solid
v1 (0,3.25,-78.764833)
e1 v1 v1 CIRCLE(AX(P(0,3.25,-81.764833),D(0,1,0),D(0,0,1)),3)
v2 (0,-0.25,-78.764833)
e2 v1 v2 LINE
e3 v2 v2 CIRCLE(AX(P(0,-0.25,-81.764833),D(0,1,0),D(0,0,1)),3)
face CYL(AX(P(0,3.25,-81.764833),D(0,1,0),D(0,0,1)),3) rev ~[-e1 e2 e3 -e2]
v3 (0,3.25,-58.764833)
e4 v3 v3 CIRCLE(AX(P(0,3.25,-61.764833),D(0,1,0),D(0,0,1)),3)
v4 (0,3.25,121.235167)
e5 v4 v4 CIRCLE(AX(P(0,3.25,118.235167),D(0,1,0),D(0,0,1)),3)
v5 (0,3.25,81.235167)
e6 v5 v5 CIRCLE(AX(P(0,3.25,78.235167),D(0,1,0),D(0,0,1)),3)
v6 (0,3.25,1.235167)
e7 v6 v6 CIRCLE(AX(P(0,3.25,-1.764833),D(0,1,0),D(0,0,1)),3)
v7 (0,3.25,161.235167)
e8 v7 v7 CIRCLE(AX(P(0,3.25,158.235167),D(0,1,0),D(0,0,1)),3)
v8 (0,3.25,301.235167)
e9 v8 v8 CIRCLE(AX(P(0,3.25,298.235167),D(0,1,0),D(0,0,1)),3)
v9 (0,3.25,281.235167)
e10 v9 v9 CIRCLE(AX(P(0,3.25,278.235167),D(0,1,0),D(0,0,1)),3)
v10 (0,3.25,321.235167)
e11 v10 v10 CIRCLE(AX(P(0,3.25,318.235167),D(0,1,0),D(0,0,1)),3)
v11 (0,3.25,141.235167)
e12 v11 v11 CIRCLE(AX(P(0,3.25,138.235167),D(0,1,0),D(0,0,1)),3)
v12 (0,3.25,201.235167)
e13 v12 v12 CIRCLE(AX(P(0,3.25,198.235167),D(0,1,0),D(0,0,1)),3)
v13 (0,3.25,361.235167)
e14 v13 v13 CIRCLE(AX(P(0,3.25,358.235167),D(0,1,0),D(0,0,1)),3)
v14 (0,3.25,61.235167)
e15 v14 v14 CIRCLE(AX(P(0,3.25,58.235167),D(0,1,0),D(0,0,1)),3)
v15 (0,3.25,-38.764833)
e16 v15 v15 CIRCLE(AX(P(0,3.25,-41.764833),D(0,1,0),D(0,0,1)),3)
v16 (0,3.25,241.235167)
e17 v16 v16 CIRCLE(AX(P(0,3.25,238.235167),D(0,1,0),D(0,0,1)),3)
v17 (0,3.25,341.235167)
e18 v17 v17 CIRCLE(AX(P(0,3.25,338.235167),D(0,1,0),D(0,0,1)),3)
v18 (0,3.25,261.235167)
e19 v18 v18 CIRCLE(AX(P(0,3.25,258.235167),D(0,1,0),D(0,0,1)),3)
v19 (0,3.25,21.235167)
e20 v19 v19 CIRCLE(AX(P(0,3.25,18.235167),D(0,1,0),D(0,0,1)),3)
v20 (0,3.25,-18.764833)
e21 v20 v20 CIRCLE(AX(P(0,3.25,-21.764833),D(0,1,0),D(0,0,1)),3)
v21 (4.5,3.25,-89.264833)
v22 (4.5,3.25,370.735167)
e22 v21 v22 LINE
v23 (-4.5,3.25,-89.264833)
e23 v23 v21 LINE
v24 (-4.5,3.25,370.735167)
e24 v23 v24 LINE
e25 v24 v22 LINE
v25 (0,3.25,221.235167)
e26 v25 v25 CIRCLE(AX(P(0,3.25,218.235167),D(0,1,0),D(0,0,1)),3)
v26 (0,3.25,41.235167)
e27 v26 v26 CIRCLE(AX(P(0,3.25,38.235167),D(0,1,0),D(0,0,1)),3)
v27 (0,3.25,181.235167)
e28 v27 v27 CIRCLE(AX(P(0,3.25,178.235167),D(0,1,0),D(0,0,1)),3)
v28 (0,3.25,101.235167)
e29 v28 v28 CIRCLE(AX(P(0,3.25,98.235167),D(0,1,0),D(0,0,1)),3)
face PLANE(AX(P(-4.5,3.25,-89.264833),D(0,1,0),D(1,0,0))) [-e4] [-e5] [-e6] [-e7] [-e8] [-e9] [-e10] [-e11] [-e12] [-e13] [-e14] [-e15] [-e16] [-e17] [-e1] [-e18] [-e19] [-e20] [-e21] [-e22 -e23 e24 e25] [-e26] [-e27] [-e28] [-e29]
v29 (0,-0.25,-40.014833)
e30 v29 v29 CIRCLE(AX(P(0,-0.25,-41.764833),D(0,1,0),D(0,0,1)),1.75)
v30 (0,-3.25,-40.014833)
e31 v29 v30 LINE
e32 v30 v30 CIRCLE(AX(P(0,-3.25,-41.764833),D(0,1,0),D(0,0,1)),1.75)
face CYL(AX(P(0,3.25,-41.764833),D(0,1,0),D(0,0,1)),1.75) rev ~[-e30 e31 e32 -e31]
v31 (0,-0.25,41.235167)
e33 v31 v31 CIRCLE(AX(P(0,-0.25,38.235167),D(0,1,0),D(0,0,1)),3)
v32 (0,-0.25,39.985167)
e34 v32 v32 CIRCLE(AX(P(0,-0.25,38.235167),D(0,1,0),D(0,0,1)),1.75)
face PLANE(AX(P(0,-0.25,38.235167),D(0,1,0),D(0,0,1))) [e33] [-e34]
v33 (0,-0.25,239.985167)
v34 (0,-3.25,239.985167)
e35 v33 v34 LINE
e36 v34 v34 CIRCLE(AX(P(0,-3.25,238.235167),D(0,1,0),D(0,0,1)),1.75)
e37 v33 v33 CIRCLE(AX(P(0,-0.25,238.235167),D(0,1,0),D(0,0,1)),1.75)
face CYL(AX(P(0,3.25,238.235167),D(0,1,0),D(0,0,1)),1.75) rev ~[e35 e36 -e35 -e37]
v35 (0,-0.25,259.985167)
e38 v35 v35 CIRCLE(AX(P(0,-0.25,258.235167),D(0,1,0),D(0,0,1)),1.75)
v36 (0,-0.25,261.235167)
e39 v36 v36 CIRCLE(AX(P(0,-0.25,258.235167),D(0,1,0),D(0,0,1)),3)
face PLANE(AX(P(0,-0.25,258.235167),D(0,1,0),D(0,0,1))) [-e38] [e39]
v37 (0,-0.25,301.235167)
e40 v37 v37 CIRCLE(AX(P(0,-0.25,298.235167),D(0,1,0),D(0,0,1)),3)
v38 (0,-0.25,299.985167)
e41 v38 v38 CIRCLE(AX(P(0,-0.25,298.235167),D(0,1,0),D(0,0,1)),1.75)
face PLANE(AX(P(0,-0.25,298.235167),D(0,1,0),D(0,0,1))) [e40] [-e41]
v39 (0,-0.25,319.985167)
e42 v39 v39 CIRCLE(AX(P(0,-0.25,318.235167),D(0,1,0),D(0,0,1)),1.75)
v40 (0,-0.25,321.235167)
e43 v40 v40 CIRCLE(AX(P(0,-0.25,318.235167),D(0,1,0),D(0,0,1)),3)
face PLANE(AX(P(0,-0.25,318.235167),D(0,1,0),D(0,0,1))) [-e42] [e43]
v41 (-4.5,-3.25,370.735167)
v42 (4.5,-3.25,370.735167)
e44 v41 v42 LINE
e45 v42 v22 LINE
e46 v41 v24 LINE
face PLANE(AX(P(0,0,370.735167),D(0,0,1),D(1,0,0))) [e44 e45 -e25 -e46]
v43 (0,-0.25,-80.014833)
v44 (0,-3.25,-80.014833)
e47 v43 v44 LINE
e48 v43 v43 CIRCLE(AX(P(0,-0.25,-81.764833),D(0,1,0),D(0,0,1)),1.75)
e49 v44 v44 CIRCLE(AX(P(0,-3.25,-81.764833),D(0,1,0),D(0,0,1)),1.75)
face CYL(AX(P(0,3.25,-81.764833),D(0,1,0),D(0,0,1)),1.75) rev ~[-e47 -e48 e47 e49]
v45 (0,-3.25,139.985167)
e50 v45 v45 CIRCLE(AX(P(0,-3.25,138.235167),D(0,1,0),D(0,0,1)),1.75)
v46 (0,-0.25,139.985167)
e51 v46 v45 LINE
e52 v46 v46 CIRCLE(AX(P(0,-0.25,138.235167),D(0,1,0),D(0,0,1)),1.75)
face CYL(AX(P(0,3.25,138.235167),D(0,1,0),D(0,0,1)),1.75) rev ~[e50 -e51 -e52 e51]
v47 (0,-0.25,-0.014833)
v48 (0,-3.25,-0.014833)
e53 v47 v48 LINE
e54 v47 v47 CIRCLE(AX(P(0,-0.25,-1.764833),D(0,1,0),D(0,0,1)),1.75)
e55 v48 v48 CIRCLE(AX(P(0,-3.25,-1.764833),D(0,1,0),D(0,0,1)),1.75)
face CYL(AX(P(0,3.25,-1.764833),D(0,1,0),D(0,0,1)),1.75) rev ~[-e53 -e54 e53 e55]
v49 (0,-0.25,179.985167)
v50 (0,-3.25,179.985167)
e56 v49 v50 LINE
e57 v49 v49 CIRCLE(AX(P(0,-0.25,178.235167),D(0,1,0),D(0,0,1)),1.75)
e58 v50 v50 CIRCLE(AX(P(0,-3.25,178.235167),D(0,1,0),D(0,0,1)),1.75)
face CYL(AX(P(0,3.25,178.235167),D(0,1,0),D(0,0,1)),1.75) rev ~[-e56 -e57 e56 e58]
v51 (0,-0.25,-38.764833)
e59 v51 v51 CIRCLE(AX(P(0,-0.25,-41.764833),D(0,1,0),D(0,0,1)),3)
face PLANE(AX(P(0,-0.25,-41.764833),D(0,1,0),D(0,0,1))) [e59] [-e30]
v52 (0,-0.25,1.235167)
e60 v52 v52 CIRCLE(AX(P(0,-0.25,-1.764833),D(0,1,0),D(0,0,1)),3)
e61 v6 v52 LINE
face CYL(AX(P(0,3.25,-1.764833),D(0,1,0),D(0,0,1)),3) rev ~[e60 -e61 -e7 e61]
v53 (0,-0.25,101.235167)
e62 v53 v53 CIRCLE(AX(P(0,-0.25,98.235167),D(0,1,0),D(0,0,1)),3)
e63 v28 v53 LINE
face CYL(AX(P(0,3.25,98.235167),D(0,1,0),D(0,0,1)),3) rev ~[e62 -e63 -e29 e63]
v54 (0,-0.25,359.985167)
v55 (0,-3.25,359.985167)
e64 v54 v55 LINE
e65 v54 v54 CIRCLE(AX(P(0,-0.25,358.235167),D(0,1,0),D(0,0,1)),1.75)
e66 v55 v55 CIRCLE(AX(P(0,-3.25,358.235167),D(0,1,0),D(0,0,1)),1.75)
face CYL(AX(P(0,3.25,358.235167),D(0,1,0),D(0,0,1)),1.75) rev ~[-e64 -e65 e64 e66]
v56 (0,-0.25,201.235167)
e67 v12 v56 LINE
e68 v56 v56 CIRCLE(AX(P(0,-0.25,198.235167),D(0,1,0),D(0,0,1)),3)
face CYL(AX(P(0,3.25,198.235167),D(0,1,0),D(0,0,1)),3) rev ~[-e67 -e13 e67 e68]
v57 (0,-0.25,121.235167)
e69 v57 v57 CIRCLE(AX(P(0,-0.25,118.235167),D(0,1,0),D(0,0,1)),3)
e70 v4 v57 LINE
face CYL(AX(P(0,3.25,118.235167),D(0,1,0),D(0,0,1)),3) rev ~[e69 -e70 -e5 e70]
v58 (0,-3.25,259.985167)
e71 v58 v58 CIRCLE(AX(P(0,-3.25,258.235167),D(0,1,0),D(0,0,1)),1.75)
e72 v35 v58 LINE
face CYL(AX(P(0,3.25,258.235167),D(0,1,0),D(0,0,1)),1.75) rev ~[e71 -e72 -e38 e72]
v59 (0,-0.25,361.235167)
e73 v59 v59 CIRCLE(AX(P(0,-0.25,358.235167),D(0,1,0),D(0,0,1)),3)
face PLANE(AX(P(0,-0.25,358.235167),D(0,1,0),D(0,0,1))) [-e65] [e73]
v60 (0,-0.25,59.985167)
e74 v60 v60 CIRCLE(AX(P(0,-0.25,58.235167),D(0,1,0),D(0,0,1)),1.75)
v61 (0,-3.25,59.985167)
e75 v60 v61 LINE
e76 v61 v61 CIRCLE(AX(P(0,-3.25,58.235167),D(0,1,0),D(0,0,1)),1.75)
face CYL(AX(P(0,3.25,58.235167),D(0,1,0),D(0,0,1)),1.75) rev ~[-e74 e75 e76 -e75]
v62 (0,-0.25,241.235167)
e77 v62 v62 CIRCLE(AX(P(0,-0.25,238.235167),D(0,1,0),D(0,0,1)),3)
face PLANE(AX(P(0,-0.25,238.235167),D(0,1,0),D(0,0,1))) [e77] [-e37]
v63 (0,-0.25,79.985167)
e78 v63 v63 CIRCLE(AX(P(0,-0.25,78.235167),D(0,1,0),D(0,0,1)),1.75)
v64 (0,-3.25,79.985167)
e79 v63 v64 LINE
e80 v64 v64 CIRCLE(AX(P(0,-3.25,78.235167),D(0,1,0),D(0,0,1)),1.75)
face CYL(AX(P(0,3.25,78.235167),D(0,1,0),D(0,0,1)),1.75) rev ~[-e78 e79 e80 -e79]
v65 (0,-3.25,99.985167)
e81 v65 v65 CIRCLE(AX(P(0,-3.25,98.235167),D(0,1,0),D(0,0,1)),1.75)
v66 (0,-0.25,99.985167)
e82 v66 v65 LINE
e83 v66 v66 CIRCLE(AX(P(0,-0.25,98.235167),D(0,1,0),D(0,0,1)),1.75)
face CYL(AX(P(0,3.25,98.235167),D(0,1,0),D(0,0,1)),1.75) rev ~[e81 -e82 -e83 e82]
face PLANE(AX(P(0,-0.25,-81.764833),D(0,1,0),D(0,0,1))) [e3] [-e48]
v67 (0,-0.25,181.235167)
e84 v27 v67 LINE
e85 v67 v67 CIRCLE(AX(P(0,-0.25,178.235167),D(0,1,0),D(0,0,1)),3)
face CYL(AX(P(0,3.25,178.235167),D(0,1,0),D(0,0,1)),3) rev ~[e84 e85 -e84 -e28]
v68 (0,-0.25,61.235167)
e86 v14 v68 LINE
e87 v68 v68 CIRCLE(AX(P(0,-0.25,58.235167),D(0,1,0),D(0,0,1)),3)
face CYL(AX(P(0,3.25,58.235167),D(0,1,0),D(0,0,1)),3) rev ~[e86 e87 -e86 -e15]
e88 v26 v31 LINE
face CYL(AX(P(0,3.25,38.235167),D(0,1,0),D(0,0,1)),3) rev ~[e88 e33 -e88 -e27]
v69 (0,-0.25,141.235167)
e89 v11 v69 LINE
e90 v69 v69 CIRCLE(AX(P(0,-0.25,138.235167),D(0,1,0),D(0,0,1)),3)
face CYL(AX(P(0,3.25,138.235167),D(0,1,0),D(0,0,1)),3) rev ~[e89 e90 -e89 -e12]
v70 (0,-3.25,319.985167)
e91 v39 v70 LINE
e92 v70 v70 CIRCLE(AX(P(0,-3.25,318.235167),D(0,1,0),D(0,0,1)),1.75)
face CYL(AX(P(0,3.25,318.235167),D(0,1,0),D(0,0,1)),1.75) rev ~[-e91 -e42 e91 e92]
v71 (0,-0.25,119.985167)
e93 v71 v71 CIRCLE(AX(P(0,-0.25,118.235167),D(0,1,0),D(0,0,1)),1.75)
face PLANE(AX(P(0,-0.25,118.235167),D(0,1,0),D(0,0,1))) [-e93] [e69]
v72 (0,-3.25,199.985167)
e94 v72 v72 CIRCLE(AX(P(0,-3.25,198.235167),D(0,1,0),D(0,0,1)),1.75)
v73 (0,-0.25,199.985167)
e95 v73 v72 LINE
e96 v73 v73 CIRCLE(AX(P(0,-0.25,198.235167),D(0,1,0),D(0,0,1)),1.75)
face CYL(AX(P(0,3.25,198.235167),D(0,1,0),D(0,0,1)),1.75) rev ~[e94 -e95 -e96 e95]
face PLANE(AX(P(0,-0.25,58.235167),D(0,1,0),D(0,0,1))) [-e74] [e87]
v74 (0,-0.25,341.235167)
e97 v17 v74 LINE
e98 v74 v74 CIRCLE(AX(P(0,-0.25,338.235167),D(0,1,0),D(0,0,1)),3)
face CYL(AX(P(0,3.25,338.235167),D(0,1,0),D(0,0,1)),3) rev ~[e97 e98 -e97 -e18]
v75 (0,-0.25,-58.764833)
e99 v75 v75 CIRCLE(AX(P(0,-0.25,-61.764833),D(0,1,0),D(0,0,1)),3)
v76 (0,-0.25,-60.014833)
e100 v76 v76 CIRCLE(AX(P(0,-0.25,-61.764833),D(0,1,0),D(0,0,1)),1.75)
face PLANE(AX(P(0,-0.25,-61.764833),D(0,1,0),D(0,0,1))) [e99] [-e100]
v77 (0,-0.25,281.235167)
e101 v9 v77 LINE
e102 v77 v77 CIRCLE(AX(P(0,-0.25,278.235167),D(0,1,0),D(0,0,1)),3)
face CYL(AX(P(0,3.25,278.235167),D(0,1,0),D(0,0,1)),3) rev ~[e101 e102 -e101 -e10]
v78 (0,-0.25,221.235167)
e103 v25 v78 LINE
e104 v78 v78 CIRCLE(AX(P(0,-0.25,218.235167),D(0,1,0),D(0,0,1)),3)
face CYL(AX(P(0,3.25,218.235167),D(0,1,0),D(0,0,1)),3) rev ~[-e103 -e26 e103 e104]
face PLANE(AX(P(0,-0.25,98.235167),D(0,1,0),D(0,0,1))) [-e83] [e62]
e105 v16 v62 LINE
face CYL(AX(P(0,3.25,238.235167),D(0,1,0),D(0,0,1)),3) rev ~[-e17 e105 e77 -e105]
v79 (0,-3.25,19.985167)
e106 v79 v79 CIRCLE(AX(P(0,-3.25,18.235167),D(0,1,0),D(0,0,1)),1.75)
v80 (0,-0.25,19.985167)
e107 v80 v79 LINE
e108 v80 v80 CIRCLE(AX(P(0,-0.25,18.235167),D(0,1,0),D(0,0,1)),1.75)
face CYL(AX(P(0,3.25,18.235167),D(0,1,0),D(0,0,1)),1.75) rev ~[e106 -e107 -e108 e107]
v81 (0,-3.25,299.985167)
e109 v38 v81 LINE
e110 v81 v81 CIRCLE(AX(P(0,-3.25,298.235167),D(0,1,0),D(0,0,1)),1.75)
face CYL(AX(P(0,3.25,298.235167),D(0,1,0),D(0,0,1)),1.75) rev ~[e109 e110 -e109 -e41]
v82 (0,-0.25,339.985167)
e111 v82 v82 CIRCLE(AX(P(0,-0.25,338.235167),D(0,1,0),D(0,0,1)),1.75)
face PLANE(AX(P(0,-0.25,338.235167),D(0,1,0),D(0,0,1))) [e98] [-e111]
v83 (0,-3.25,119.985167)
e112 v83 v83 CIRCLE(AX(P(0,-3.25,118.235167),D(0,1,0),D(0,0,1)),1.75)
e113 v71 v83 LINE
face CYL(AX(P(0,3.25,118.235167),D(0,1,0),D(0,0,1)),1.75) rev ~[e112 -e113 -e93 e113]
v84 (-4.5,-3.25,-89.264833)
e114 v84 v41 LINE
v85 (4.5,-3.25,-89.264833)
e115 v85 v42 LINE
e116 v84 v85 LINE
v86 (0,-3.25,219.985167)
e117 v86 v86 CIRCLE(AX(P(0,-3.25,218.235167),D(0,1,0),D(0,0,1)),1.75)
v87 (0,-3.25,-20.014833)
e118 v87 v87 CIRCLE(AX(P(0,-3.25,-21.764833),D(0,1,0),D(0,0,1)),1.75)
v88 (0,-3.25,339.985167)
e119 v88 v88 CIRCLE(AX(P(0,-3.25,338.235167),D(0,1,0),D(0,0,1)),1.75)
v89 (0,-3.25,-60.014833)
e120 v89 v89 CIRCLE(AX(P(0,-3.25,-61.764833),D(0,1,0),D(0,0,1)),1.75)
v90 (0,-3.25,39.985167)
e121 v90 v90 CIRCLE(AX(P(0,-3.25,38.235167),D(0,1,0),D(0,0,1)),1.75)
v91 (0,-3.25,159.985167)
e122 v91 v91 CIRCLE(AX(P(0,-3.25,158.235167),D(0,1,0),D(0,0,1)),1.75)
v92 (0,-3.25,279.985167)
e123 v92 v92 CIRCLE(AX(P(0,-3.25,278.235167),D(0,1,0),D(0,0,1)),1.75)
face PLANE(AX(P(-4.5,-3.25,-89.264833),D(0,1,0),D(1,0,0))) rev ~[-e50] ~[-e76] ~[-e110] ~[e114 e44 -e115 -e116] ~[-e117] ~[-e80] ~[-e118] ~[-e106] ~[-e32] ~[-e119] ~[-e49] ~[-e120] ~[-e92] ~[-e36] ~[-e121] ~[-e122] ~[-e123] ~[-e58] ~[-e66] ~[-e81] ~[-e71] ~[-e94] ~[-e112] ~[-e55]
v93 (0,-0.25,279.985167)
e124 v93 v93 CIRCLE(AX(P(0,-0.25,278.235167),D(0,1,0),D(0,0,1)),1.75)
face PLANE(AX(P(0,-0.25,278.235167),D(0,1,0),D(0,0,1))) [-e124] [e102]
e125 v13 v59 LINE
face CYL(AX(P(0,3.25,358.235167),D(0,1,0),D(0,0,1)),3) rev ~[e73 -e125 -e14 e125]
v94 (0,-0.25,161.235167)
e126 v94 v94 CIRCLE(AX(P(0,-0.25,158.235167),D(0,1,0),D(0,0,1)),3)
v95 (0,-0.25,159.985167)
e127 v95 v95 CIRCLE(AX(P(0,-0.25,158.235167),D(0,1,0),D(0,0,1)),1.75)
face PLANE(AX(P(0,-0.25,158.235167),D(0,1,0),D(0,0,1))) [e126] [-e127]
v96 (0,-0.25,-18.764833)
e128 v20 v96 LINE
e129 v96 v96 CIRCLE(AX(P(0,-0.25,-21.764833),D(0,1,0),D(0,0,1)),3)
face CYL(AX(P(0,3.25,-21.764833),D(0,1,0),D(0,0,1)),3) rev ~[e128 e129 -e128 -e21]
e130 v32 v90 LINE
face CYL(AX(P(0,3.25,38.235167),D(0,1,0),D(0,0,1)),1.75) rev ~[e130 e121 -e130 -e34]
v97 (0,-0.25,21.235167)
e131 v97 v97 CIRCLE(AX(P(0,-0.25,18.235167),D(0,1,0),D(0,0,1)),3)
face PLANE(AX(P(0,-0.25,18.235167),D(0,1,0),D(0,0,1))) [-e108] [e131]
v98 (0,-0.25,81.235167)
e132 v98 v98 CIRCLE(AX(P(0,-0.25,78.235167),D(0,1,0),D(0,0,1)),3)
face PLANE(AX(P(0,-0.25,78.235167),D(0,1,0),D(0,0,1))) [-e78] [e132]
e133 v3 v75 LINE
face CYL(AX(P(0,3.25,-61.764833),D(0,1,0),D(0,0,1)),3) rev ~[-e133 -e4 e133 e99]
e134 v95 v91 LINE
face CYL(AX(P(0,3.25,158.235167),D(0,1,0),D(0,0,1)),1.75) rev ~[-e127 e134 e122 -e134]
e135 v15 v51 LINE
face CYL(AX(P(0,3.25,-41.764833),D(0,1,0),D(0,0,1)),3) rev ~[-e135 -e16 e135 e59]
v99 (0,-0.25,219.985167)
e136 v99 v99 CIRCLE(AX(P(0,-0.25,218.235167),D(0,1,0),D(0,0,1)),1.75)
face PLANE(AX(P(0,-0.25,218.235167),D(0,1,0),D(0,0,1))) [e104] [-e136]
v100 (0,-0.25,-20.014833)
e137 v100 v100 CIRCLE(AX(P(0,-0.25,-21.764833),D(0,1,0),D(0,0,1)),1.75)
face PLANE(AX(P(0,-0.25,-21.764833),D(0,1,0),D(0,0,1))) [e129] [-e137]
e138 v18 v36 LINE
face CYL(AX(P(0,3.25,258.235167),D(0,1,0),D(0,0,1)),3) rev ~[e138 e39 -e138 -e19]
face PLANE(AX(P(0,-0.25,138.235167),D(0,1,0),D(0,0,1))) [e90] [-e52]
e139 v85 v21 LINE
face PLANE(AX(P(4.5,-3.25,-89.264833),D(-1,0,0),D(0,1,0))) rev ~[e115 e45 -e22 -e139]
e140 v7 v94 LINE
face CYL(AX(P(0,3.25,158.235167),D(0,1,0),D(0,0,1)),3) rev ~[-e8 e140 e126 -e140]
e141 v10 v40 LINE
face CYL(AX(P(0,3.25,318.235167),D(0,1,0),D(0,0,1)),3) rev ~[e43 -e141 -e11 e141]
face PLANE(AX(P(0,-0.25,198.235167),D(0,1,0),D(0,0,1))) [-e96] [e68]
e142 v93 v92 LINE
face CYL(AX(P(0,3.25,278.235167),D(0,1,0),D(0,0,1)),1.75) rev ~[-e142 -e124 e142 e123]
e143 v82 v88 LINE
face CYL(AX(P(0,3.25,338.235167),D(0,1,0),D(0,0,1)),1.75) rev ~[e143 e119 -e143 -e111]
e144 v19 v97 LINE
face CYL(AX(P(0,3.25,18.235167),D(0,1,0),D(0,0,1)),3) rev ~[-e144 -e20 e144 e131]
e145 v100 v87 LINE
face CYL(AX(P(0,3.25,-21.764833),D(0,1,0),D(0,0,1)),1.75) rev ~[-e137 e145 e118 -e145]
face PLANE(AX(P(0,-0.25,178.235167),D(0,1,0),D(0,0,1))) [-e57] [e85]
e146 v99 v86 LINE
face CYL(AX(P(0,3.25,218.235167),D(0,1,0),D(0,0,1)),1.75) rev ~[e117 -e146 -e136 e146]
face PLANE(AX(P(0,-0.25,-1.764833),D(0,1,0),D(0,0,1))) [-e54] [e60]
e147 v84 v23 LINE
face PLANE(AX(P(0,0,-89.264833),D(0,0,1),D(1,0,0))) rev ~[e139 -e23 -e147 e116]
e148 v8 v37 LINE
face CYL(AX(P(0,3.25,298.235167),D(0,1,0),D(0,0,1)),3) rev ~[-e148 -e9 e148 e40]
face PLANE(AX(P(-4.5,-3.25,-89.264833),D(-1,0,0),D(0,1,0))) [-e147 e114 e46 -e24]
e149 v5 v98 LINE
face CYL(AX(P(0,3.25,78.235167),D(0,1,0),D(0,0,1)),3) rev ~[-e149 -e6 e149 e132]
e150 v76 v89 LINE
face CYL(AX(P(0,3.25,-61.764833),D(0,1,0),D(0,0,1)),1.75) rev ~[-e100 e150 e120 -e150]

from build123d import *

# Parameters (mm, degrees)
SKETCH_1_W          = 9
SKETCH_1_H          = 6.5
EXTRUDE_1_DEPTH     = 460
SKETCH_2_R          = 1.750000006
CUT_EXTRUDE_1_DEPTH = 371.819449874
SKETCH_3_R          = 3.000000006
CUT_EXTRUDE_2_DEPTH = 3.5


with BuildPart() as part:
    # 草图1 → 凸台-拉伸1 (new body)
    with BuildSketch(Plane.XY.offset(-89.264832522)):
        Rectangle(SKETCH_1_W, SKETCH_1_H)
    extrude(amount=EXTRUDE_1_DEPTH)

    # 草图2 → 切除-拉伸1 (cut, through all)
    with BuildSketch(Plane(origin=(0, 3.25, 0), x_dir=(1, 0, 0), z_dir=(0, 1, 0))):
        with Locations(Location((0, 81.764832522, 0), (0, 0, 270))):
            Circle(SKETCH_2_R)
        with Locations(Location((0, 61.764832522, 0), (0, 0, 270))):
            Circle(SKETCH_2_R)
        with Locations(Location((0, 41.764832522, 0), (0, 0, 270))):
            Circle(SKETCH_2_R)
        with Locations(Location((0, 21.764832522, 0), (0, 0, 270))):
            Circle(SKETCH_2_R)
        with Locations(Location((0, 1.764832522, 0), (0, 0, 270))):
            Circle(SKETCH_2_R)
        with Locations(Location((0, -18.235167478, 0), (0, 0, 270))):
            Circle(SKETCH_2_R)
        with Locations(Location((0, -38.235167478, 0), (0, 0, 270))):
            Circle(SKETCH_2_R)
        with Locations(Location((0, -58.235167478, 0), (0, 0, 270))):
            Circle(SKETCH_2_R)
        with Locations(Location((0, -78.235167478, 0), (0, 0, 270))):
            Circle(SKETCH_2_R)
        with Locations(Location((0, -98.235167478, 0), (0, 0, 270))):
            Circle(SKETCH_2_R)
        with Locations(Location((0, -118.235167478, 0), (0, 0, 270))):
            Circle(SKETCH_2_R)
        with Locations(Location((0, -138.235167478, 0), (0, 0, 270))):
            Circle(SKETCH_2_R)
        with Locations(Location((0, -158.235167478, 0), (0, 0, 270))):
            Circle(SKETCH_2_R)
        with Locations(Location((0, -178.235167478, 0), (0, 0, 270))):
            Circle(SKETCH_2_R)
        with Locations(Location((0, -198.235167478, 0), (0, 0, 270))):
            Circle(SKETCH_2_R)
        with Locations(Location((0, -218.235167478, 0), (0, 0, 270))):
            Circle(SKETCH_2_R)
        with Locations(Location((0, -238.235167478, 0), (0, 0, 270))):
            Circle(SKETCH_2_R)
        with Locations(Location((0, -258.235167478, 0), (0, 0, 270))):
            Circle(SKETCH_2_R)
        with Locations(Location((0, -278.235167478, 0), (0, 0, 270))):
            Circle(SKETCH_2_R)
        with Locations(Location((0, -298.235167478, 0), (0, 0, 270))):
            Circle(SKETCH_2_R)
        with Locations(Location((0, -318.235167478, 0), (0, 0, 270))):
            Circle(SKETCH_2_R)
        with Locations(Location((0, -338.235167478, 0), (0, 0, 270))):
            Circle(SKETCH_2_R)
        with Locations(Location((0, -358.235167478, 0), (0, 0, 270))):
            Circle(SKETCH_2_R)
        with Locations((0, -378.235167478)):
            Circle(SKETCH_2_R)
        with Locations((0, -398.235167478)):
            Circle(SKETCH_2_R)
        with Locations((0, -418.235167478)):
            Circle(SKETCH_2_R)
        with Locations((0, -438.235167478)):
            Circle(SKETCH_2_R)
        with Locations((0, -458.235167478)):
            Circle(SKETCH_2_R)
        with Locations((0, -478.235167478)):
            Circle(SKETCH_2_R)
        with Locations((0, -498.235167478)):
            Circle(SKETCH_2_R)
        with Locations((0, -518.235167478)):
            Circle(SKETCH_2_R)
        with Locations((0, -538.235167478)):
            Circle(SKETCH_2_R)
        with Locations((0, -558.235167478)):
            Circle(SKETCH_2_R)
        with Locations((0, -578.235167478)):
            Circle(SKETCH_2_R)
        with Locations((0, -598.235167478)):
            Circle(SKETCH_2_R)
        with Locations((0, -618.235167478)):
            Circle(SKETCH_2_R)
        with Locations((0, -638.235167478)):
            Circle(SKETCH_2_R)
        with Locations((0, -658.235167478)):
            Circle(SKETCH_2_R)
        with Locations((0, -678.235167478)):
            Circle(SKETCH_2_R)
        with Locations((0, -698.235167478)):
            Circle(SKETCH_2_R)
        with Locations((0, -718.235167478)):
            Circle(SKETCH_2_R)
        with Locations((0, -738.235167478)):
            Circle(SKETCH_2_R)
        with Locations((0, -758.235167478)):
            Circle(SKETCH_2_R)
        with Locations((0, -778.235167478)):
            Circle(SKETCH_2_R)
        with Locations((0, -798.235167478)):
            Circle(SKETCH_2_R)
        with Locations((0, -818.235167478)):
            Circle(SKETCH_2_R)
        with Locations((0, -838.235167478)):
            Circle(SKETCH_2_R)
        with Locations((0, -858.235167478)):
            Circle(SKETCH_2_R)
        with Locations((0, -878.235167478)):
            Circle(SKETCH_2_R)
        with Locations((0, -898.235167478)):
            Circle(SKETCH_2_R)
        with Locations((0, -918.235167478)):
            Circle(SKETCH_2_R)
        with Locations((0, -938.235167478)):
            Circle(SKETCH_2_R)
        with Locations((0, -958.235167478)):
            Circle(SKETCH_2_R)
        with Locations((0, -978.235167478)):
            Circle(SKETCH_2_R)
        with Locations((0, -998.235167478)):
            Circle(SKETCH_2_R)
        with Locations((0, -1018.235167478)):
            Circle(SKETCH_2_R)
        with Locations((0, -1038.235167478)):
            Circle(SKETCH_2_R)
        with Locations((0, -1058.235167478)):
            Circle(SKETCH_2_R)
        with Locations((0, -1078.235167478)):
            Circle(SKETCH_2_R)
        with Locations((0, -1098.235167478)):
            Circle(SKETCH_2_R)
    extrude(amount=-CUT_EXTRUDE_1_DEPTH, mode=Mode.SUBTRACT)

    # 草图3 → 切除-拉伸2 (cut)
    with BuildSketch(Plane(origin=(0, 3.25, 0), x_dir=(1, 0, 0), z_dir=(0, 1, 0))):
        with Locations(Location((0, 81.764832522, 0), (0, 0, 270))):
            Circle(SKETCH_3_R)
        with Locations(Location((0, 61.764832522, 0), (0, 0, 270))):
            Circle(SKETCH_3_R)
        with Locations(Location((0, 41.764832522, 0), (0, 0, 270))):
            Circle(SKETCH_3_R)
        with Locations(Location((0, 21.764832522, 0), (0, 0, 270))):
            Circle(SKETCH_3_R)
        with Locations(Location((0, 1.764832522, 0), (0, 0, 270))):
            Circle(SKETCH_3_R)
        with Locations(Location((0, -18.235167478, 0), (0, 0, 270))):
            Circle(SKETCH_3_R)
        with Locations(Location((0, -38.235167478, 0), (0, 0, 270))):
            Circle(SKETCH_3_R)
        with Locations(Location((0, -58.235167478, 0), (0, 0, 270))):
            Circle(SKETCH_3_R)
        with Locations(Location((0, -78.235167478, 0), (0, 0, 270))):
            Circle(SKETCH_3_R)
        with Locations(Location((0, -98.235167478, 0), (0, 0, 270))):
            Circle(SKETCH_3_R)
        with Locations(Location((0, -118.235167478, 0), (0, 0, 270))):
            Circle(SKETCH_3_R)
        with Locations(Location((0, -138.235167478, 0), (0, 0, 270))):
            Circle(SKETCH_3_R)
        with Locations(Location((0, -158.235167478, 0), (0, 0, 270))):
            Circle(SKETCH_3_R)
        with Locations(Location((0, -178.235167478, 0), (0, 0, 270))):
            Circle(SKETCH_3_R)
        with Locations(Location((0, -198.235167478, 0), (0, 0, 270))):
            Circle(SKETCH_3_R)
        with Locations(Location((0, -218.235167478, 0), (0, 0, 270))):
            Circle(SKETCH_3_R)
        with Locations(Location((0, -238.235167478, 0), (0, 0, 270))):
            Circle(SKETCH_3_R)
        with Locations(Location((0, -258.235167478, 0), (0, 0, 270))):
            Circle(SKETCH_3_R)
        with Locations(Location((0, -278.235167478, 0), (0, 0, 270))):
            Circle(SKETCH_3_R)
        with Locations(Location((0, -298.235167478, 0), (0, 0, 270))):
            Circle(SKETCH_3_R)
        with Locations(Location((0, -318.235167478, 0), (0, 0, 270))):
            Circle(SKETCH_3_R)
        with Locations(Location((0, -338.235167478, 0), (0, 0, 270))):
            Circle(SKETCH_3_R)
        with Locations(Location((0, -358.235167478, 0), (0, 0, 270))):
            Circle(SKETCH_3_R)
        with Locations((0, -378.235167478)):
            Circle(SKETCH_3_R)
        with Locations((0, -398.235167478)):
            Circle(SKETCH_3_R)
        with Locations((0, -418.235167478)):
            Circle(SKETCH_3_R)
        with Locations((0, -438.235167478)):
            Circle(SKETCH_3_R)
        with Locations((0, -458.235167478)):
            Circle(SKETCH_3_R)
        with Locations((0, -478.235167478)):
            Circle(SKETCH_3_R)
        with Locations((0, -498.235167478)):
            Circle(SKETCH_3_R)
        with Locations((0, -518.235167478)):
            Circle(SKETCH_3_R)
        with Locations((0, -538.235167478)):
            Circle(SKETCH_3_R)
        with Locations((0, -558.235167478)):
            Circle(SKETCH_3_R)
        with Locations((0, -578.235167478)):
            Circle(SKETCH_3_R)
        with Locations((0, -598.235167478)):
            Circle(SKETCH_3_R)
        with Locations((0, -618.235167478)):
            Circle(SKETCH_3_R)
        with Locations((0, -638.235167478)):
            Circle(SKETCH_3_R)
        with Locations((0, -658.235167478)):
            Circle(SKETCH_3_R)
        with Locations((0, -678.235167478)):
            Circle(SKETCH_3_R)
        with Locations((0, -698.235167478)):
            Circle(SKETCH_3_R)
        with Locations((0, -718.235167478)):
            Circle(SKETCH_3_R)
        with Locations((0, -738.235167478)):
            Circle(SKETCH_3_R)
        with Locations((0, -758.235167478)):
            Circle(SKETCH_3_R)
        with Locations((0, -778.235167478)):
            Circle(SKETCH_3_R)
        with Locations((0, -798.235167478)):
            Circle(SKETCH_3_R)
        with Locations((0, -818.235167478)):
            Circle(SKETCH_3_R)
        with Locations((0, -838.235167478)):
            Circle(SKETCH_3_R)
        with Locations((0, -858.235167478)):
            Circle(SKETCH_3_R)
        with Locations((0, -878.235167478)):
            Circle(SKETCH_3_R)
        with Locations((0, -898.235167478)):
            Circle(SKETCH_3_R)
        with Locations((0, -918.235167478)):
            Circle(SKETCH_3_R)
        with Locations((0, -938.235167478)):
            Circle(SKETCH_3_R)
        with Locations((0, -958.235167478)):
            Circle(SKETCH_3_R)
        with Locations((0, -978.235167478)):
            Circle(SKETCH_3_R)
        with Locations((0, -998.235167478)):
            Circle(SKETCH_3_R)
        with Locations((0, -1018.235167478)):
            Circle(SKETCH_3_R)
        with Locations((0, -1038.235167478)):
            Circle(SKETCH_3_R)
        with Locations((0, -1058.235167478)):
            Circle(SKETCH_3_R)
        with Locations((0, -1078.235167478)):
            Circle(SKETCH_3_R)
        with Locations((0, -1098.235167478)):
            Circle(SKETCH_3_R)
    extrude(amount=-CUT_EXTRUDE_2_DEPTH, mode=Mode.SUBTRACT)


solid = part.part
